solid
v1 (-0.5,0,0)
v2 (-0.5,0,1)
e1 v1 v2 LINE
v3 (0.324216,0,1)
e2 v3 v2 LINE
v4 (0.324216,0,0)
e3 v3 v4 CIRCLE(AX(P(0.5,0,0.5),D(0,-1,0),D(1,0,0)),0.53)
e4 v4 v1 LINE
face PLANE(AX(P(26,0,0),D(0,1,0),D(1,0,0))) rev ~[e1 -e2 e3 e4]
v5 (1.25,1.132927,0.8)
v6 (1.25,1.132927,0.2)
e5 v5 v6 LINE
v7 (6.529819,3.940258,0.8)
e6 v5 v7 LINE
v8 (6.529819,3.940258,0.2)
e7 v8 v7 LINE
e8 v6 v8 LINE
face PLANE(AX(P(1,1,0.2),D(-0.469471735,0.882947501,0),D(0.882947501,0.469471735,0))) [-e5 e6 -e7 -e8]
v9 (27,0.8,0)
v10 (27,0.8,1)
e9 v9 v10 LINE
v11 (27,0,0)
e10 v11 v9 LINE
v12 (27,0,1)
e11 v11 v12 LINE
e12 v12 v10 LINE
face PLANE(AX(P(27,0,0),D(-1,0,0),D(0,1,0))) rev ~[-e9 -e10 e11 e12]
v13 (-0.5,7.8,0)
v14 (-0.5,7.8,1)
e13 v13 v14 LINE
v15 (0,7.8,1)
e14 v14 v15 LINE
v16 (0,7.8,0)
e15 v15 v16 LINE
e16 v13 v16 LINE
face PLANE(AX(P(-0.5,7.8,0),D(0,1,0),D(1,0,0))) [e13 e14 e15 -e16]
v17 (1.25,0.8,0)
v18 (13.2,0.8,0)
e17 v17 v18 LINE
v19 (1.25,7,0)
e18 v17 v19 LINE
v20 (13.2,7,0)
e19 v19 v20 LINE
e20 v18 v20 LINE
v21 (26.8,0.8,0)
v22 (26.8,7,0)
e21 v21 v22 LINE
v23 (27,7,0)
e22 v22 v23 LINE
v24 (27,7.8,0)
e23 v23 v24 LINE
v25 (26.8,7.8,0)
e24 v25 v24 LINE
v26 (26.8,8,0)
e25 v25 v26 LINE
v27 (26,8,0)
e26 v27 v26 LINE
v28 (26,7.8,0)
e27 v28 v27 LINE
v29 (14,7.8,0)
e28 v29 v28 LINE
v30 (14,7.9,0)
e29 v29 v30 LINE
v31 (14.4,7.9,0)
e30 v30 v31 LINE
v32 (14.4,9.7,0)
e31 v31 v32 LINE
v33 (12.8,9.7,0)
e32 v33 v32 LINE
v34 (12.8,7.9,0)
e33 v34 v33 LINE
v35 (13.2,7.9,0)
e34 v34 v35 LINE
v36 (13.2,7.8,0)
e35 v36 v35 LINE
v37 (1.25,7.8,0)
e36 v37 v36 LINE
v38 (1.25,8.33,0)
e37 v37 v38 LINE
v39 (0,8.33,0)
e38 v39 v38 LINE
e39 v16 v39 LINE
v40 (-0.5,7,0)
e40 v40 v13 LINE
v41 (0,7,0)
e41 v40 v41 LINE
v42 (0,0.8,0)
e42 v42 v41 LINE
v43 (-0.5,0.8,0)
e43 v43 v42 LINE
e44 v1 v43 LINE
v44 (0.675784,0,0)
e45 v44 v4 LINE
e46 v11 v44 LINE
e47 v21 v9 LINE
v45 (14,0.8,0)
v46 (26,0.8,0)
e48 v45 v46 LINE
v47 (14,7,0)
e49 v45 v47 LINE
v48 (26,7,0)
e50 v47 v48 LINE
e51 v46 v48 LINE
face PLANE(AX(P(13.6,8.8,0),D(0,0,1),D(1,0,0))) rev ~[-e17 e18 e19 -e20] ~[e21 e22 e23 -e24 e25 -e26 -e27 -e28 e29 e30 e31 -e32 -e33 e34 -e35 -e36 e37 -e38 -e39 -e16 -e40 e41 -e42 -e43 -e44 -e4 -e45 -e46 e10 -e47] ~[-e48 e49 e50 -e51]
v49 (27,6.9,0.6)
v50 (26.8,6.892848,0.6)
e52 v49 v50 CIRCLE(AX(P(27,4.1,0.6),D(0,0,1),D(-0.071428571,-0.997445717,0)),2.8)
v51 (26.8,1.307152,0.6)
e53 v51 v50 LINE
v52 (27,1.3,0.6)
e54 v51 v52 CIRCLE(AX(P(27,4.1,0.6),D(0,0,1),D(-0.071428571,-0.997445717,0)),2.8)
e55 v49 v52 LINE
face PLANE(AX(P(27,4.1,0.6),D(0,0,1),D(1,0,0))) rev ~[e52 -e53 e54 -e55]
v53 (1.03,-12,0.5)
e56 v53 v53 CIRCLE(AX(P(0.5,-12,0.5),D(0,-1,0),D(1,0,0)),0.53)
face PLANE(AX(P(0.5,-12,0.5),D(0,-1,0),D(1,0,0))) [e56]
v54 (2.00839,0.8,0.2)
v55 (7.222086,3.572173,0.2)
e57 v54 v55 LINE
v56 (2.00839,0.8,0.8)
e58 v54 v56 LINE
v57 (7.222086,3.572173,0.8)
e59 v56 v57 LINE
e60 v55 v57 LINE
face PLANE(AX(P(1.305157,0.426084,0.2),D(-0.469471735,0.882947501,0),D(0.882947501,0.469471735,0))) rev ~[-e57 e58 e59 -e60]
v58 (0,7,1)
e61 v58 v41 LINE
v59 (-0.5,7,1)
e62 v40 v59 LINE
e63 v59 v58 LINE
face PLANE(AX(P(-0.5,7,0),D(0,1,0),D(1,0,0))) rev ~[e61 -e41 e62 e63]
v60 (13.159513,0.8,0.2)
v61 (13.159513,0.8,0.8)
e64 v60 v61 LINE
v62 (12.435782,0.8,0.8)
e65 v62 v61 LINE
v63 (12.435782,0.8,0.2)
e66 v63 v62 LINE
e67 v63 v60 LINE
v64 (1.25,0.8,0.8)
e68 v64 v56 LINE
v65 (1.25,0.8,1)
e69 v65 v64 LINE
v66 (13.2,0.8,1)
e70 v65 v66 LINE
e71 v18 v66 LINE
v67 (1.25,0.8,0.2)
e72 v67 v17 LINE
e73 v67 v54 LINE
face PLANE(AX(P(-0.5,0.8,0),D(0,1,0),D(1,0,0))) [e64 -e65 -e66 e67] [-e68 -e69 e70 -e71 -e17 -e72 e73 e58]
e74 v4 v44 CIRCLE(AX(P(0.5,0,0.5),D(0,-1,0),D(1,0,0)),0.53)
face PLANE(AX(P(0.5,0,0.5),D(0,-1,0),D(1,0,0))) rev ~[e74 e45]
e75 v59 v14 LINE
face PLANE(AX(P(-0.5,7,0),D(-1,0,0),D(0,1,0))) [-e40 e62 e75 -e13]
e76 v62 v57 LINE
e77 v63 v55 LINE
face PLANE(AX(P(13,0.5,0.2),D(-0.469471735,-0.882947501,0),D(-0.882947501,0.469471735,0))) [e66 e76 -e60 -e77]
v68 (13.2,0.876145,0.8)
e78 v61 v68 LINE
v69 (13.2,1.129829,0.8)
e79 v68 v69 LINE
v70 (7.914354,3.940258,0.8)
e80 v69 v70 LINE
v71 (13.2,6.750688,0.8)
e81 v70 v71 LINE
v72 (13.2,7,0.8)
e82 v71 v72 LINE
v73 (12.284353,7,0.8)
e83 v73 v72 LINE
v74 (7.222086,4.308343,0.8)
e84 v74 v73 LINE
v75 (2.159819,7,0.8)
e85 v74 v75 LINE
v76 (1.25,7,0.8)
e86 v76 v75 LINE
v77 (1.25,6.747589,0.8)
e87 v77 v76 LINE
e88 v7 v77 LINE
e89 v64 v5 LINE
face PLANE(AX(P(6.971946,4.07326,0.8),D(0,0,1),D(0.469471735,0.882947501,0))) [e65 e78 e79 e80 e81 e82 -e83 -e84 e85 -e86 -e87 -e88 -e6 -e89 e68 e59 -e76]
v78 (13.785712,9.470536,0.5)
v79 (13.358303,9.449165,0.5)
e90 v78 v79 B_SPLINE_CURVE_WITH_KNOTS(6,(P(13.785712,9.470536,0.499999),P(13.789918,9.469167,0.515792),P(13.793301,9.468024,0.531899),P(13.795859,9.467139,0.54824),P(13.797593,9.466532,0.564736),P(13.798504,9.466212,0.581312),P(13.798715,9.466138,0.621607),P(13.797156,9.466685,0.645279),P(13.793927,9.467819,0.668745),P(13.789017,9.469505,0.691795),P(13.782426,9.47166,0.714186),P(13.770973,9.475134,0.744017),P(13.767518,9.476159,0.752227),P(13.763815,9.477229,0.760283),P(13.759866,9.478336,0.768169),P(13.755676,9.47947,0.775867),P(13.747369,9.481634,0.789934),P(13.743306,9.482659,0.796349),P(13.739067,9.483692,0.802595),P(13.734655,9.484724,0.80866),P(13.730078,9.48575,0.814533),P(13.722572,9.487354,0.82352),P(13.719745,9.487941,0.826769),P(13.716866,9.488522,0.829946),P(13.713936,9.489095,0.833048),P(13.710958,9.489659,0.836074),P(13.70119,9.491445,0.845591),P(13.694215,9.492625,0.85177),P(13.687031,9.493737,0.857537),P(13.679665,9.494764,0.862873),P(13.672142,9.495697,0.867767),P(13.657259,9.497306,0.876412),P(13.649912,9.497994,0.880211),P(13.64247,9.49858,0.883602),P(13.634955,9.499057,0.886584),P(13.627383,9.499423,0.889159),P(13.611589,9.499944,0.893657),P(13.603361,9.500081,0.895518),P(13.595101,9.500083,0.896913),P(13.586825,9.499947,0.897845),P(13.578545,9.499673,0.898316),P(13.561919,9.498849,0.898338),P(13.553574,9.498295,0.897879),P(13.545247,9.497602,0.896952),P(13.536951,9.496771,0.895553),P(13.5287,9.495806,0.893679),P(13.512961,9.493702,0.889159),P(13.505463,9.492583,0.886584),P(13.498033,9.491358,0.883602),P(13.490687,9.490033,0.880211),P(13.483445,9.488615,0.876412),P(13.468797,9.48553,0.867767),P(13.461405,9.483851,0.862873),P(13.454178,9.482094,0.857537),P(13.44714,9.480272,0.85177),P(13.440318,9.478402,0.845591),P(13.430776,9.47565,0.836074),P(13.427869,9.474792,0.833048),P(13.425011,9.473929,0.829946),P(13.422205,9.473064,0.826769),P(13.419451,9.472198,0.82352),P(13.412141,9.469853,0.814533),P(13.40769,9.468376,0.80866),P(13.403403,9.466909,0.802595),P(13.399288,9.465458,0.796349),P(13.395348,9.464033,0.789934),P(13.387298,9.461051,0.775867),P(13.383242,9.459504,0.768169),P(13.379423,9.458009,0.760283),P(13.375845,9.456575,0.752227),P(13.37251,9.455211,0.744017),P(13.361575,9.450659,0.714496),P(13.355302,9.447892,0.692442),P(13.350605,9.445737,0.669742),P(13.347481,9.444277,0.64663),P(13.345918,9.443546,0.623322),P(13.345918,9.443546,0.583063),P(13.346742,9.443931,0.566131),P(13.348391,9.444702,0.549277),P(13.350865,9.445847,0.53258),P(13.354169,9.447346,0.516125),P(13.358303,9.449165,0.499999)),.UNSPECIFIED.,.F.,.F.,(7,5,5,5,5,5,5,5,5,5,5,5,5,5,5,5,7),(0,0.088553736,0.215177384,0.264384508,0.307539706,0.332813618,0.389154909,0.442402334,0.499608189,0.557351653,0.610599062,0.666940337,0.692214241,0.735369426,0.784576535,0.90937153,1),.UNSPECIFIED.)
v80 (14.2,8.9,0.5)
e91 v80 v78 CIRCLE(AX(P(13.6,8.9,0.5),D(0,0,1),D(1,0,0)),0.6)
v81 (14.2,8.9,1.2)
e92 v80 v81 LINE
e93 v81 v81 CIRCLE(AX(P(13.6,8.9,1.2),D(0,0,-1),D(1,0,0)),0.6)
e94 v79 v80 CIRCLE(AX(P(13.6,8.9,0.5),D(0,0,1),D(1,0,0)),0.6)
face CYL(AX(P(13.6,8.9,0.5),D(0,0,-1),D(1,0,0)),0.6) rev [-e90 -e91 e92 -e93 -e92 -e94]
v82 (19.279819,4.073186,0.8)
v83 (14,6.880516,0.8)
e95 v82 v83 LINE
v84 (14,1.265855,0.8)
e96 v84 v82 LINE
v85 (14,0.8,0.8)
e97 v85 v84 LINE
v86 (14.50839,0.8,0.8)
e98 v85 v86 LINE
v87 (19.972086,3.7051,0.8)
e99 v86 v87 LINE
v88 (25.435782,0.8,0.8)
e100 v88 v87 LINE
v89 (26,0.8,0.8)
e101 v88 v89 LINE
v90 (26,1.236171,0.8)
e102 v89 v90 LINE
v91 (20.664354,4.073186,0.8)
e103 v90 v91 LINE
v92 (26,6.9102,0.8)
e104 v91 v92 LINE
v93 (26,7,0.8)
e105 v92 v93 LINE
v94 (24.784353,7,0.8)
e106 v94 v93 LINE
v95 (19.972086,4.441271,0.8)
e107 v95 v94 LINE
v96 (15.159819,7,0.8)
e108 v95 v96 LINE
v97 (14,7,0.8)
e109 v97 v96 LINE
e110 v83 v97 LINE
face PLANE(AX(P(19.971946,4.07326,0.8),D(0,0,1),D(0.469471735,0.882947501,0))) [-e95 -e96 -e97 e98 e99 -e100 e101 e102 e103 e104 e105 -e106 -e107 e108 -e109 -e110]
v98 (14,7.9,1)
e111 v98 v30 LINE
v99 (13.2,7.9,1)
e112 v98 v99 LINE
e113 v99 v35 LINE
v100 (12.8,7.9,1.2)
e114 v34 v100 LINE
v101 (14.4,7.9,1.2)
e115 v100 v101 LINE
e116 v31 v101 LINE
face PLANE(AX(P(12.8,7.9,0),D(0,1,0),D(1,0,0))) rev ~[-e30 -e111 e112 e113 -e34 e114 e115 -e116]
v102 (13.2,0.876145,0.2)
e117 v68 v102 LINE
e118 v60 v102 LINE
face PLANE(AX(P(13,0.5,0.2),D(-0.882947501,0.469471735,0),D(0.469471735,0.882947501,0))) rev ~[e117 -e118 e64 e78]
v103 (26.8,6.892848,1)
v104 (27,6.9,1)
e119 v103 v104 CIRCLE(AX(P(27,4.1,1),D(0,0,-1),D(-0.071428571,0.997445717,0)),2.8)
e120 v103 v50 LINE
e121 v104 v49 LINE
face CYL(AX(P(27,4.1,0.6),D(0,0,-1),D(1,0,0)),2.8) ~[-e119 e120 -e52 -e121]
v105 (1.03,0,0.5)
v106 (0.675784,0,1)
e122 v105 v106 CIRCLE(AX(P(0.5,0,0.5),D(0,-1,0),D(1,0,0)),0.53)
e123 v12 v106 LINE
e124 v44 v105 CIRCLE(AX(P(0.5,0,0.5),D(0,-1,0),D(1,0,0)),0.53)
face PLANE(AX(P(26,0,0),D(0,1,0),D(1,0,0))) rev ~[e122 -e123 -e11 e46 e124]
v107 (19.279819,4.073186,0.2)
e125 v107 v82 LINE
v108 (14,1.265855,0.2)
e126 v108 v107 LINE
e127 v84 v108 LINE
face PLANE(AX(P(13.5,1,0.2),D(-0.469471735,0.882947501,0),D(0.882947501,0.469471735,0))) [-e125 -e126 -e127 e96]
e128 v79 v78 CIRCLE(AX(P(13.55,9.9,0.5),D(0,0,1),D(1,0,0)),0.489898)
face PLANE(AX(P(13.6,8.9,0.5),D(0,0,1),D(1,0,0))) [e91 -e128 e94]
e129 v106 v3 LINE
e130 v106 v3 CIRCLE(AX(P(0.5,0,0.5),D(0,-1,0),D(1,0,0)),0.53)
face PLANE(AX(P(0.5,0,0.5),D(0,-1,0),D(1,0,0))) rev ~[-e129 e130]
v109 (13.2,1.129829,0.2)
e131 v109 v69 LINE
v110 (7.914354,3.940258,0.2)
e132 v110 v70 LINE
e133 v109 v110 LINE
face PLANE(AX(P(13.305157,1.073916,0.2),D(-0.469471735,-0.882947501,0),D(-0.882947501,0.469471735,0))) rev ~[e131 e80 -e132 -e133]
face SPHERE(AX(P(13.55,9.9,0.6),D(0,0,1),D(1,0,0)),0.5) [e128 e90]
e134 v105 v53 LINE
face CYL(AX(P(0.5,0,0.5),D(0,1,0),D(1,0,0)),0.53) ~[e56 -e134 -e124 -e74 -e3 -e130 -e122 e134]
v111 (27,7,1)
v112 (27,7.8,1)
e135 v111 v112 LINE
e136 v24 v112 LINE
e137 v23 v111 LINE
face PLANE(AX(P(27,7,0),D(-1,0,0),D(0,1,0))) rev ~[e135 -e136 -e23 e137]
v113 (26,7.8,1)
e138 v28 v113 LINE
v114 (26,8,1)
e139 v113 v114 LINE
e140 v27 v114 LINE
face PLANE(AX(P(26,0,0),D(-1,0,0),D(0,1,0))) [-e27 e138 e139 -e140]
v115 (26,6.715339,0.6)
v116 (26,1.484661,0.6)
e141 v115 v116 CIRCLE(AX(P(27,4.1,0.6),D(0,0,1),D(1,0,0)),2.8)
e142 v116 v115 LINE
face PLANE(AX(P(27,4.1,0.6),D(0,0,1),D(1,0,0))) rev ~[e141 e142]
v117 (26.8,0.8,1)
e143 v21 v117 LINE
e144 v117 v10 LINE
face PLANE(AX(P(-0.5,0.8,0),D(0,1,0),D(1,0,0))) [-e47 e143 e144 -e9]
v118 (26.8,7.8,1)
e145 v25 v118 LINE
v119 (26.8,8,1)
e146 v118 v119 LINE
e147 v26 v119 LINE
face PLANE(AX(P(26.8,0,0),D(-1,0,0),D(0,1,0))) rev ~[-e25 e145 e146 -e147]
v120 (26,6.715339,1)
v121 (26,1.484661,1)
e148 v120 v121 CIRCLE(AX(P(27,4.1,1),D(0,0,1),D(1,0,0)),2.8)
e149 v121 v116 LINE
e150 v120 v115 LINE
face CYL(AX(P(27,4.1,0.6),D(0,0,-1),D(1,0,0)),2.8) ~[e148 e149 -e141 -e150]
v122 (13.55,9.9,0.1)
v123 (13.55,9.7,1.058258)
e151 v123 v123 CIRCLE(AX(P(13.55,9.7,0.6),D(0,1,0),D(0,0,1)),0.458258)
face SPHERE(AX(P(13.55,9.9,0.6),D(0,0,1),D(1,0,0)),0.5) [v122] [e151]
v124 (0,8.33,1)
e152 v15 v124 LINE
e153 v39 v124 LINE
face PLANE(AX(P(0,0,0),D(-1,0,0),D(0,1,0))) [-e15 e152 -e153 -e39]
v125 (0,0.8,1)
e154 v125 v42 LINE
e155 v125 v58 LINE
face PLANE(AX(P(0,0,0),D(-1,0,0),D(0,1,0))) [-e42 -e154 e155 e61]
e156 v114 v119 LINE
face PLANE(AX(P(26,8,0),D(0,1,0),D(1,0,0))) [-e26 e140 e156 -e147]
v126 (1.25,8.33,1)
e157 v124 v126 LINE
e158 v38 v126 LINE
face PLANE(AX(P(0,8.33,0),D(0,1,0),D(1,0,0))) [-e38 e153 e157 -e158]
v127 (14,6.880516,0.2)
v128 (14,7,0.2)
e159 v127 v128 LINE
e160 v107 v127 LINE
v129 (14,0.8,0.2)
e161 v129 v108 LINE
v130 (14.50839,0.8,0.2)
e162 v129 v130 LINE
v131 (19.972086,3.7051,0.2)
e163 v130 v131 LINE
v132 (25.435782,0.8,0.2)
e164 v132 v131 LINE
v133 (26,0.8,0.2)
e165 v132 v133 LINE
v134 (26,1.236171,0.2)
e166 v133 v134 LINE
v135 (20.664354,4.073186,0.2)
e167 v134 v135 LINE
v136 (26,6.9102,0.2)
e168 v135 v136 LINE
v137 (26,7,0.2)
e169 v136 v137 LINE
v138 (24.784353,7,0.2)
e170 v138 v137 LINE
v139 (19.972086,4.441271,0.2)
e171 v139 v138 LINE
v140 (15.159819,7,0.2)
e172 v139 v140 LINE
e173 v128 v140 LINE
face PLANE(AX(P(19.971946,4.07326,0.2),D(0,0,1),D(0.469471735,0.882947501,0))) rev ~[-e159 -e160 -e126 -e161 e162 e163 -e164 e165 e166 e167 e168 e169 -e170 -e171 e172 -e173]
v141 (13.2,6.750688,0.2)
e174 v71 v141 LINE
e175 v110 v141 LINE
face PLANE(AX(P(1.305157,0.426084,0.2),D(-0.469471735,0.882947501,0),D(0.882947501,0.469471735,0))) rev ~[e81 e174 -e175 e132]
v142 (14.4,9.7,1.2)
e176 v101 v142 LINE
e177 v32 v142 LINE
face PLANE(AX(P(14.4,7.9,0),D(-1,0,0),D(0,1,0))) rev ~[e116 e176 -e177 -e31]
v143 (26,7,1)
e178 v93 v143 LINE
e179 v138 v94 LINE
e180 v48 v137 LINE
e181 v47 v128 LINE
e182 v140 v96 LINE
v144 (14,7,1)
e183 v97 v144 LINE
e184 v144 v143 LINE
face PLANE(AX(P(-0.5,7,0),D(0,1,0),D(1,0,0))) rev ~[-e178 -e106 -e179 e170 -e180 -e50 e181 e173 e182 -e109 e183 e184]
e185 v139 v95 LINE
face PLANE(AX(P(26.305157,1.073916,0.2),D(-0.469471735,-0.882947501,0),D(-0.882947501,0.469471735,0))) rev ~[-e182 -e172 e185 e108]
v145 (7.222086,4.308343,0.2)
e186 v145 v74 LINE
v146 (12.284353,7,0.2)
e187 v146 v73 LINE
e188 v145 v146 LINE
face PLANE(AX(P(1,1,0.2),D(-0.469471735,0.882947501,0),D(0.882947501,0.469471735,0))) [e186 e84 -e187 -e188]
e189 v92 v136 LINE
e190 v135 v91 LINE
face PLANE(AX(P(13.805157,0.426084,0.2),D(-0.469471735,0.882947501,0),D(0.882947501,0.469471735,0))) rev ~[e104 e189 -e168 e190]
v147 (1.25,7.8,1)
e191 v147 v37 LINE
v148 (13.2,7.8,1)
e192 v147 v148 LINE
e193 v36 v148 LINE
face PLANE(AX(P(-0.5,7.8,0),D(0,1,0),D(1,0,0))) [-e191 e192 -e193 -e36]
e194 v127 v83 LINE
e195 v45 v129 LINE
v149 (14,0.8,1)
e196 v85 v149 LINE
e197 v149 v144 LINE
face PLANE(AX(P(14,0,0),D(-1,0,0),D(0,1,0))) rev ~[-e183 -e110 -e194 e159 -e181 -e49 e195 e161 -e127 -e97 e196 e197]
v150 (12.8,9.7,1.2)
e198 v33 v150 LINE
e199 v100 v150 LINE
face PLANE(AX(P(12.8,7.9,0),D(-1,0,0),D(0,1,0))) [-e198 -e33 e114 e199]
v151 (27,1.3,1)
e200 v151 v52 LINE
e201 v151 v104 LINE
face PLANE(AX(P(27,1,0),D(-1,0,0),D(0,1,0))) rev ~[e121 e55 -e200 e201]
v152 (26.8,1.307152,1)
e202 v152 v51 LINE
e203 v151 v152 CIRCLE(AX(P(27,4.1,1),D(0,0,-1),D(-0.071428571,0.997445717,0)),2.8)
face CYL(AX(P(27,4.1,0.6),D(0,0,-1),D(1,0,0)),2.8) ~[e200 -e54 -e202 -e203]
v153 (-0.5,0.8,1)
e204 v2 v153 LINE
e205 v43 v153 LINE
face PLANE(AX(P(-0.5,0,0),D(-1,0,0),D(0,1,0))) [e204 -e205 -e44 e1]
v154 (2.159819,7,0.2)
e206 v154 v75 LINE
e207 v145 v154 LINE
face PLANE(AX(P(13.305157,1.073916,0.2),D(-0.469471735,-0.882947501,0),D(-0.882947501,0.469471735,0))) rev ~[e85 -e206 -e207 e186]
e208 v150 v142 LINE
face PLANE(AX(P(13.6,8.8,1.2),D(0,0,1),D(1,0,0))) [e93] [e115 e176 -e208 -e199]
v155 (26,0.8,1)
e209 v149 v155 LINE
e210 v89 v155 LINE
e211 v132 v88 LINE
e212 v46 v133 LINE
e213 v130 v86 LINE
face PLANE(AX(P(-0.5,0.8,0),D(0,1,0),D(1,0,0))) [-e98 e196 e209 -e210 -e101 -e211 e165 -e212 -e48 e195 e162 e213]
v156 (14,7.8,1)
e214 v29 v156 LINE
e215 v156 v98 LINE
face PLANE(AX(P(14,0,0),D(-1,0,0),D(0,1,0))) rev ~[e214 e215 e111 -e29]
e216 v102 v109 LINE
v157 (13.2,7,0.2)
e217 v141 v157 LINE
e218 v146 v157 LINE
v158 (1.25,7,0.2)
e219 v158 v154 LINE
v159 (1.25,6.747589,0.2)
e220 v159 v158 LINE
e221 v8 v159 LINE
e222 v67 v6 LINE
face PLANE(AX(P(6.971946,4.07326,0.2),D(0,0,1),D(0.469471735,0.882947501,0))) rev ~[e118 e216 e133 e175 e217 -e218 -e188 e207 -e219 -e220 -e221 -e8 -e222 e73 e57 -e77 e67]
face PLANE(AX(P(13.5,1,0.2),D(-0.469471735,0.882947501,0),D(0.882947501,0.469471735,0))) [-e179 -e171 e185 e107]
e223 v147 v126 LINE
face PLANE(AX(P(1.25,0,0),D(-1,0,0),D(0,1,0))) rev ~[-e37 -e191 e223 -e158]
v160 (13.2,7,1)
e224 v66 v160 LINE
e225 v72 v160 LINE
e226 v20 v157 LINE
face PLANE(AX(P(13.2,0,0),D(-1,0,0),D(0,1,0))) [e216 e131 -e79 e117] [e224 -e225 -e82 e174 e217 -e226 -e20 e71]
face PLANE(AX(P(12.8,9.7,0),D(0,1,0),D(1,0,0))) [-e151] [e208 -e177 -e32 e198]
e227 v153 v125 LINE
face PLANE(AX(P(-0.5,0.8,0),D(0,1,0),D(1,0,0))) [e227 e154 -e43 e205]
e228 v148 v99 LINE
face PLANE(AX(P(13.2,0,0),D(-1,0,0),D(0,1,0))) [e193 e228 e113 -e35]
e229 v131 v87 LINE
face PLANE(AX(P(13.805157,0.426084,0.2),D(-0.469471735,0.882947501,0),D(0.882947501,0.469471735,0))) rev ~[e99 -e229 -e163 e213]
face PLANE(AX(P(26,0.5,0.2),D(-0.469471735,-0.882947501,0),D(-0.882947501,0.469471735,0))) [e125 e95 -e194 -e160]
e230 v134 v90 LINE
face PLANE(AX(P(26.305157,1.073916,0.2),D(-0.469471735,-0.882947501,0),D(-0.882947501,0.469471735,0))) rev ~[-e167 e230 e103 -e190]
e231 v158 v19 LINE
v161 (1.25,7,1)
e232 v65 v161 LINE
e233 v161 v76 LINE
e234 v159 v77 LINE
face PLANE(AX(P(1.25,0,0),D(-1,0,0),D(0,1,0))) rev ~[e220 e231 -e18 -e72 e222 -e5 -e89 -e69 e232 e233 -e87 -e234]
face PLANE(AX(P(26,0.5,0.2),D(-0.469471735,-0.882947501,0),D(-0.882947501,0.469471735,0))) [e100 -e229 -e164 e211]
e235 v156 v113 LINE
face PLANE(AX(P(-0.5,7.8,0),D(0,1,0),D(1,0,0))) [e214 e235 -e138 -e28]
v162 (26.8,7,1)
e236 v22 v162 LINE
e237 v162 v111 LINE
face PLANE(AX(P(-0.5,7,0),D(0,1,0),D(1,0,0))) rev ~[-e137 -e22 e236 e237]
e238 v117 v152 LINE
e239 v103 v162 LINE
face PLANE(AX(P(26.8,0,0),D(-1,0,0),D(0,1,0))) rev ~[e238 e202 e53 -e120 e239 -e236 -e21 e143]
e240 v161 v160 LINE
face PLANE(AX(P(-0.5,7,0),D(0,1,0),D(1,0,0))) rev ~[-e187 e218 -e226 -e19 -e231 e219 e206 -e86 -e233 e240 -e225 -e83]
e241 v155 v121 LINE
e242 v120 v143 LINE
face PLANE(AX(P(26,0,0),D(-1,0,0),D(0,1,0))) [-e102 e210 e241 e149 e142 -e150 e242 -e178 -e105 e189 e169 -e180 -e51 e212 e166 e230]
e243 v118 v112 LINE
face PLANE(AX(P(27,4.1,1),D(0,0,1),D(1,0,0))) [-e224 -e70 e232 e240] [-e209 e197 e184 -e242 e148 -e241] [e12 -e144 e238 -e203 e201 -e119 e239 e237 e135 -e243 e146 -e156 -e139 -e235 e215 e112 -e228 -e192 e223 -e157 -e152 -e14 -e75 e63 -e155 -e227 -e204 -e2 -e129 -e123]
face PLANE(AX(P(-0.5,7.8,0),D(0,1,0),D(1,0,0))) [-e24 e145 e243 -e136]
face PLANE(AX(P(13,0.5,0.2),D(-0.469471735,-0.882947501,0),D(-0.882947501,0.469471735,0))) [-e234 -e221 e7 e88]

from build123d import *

# Parameters (mm, degrees)
SKETCH_W               = 1.25
SKETCH_H               = 8.33
PAD_DEPTH              = 1
BOX_W                  = 27.5
BOX_H                  = 0.8
BOX_DEPTH              = 1
LINEARPATTERN_COUNT    = 2
LINEARPATTERN_PITCH    = 7
BOX001_W               = 0.8
BOX001_H               = 8
BOX001_DEPTH           = 1
BOX002_W               = 0.8
BOX002_H               = 8
BOX002_DEPTH           = 1
BOX003_W               = 0.65
BOX003_H               = 14
BOX003_DEPTH           = 0.6
LINEARPATTERN001_COUNT = 2
LINEARPATTERN001_PITCH = 12.5
BOX004_W               = 0.65
BOX004_H               = 14
BOX004_DEPTH           = 0.6
LINEARPATTERN002_COUNT = 2
LINEARPATTERN002_PITCH = 13
CYLINDER_R             = 0.53
CYLINDER_DEPTH         = 12
CYLINDER001_R          = 2.8
CYLINDER001_DEPTH      = 0.4
BOX005_W               = 1.6
BOX005_H               = 1.8
BOX005_DEPTH           = 1.2
CYLINDER002_R          = 0.6
CYLINDER002_DEPTH      = 2
BOX006_W               = 4
BOX006_H               = 6
BOX006_DEPTH           = 1


with BuildPart() as part:
    # Sketch → Pad (new body)
    with BuildSketch(Plane.XY):
        with Locations((0.625, 4.165)):
            Rectangle(SKETCH_W, SKETCH_H)
    extrude(amount=PAD_DEPTH)

    # Box → Box (join)
    with BuildSketch(Plane(origin=(-0.5, 0, 0), x_dir=(1, 0, 0), z_dir=(0, 0, 1))):
        with Locations((13.75, 0.4)):
            Rectangle(BOX_W, BOX_H)
    box = extrude(amount=BOX_DEPTH)

    # LinearPattern: Box ×2
    with Locations(*[(0, i * LINEARPATTERN_PITCH, 0) for i in range(1, LINEARPATTERN_COUNT)]):
        add(box)

    # Box001 → Box001 (join)
    with BuildSketch(Plane(origin=(13.2, 0, 0), x_dir=(1, 0, 0), z_dir=(0, 0, 1))):
        with Locations((0.4, 4)):
            Rectangle(BOX001_W, BOX001_H)
    extrude(amount=BOX001_DEPTH)

    # Box002 → Box002 (join)
    with BuildSketch(Plane(origin=(26, 0, 0), x_dir=(1, 0, 0), z_dir=(0, 0, 1))):
        with Locations((0.4, 4)):
            Rectangle(BOX002_W, BOX002_H)
    extrude(amount=BOX002_DEPTH)

    # Box003 → Box003 (join)
    with BuildSketch(Plane(origin=(1, 1, 0.2), x_dir=(0.469472, -0.882948, 0), z_dir=(0, 0, 1))):
        with Locations((0.325, 7)):
            Rectangle(BOX003_W, BOX003_H)
    box003 = extrude(amount=BOX003_DEPTH)

    # LinearPattern001: Box003 ×2
    with Locations(*[(i * LINEARPATTERN001_PITCH, 0, 0) for i in range(1, LINEARPATTERN001_COUNT)]):
        add(box003)

    # Box004 → Box004 (join)
    with BuildSketch(Plane(origin=(13, 0.5, 0.2), x_dir=(0.469472, 0.882948, 0), z_dir=(0, 0, 1))):
        with Locations((0.325, 7)):
            Rectangle(BOX004_W, BOX004_H)
    box004 = extrude(amount=BOX004_DEPTH)

    # LinearPattern002: Box004 ×2
    with Locations(*[(i * LINEARPATTERN002_PITCH, 0, 0) for i in range(1, LINEARPATTERN002_COUNT)]):
        add(box004)

    # Cylinder → Cylinder (join)
    with BuildSketch(Plane(origin=(0.5, 0, 0.5), x_dir=(1, 0, 0), z_dir=(0, -1, 0))):
        Circle(CYLINDER_R)
    extrude(amount=CYLINDER_DEPTH)

    # Cylinder001 → Cylinder001 (join)
    with BuildSketch(Plane(origin=(27, 4.1, 0.6), x_dir=(1, 0, 0), z_dir=(0, 0, 1))):
        Circle(CYLINDER001_R)
    extrude(amount=CYLINDER001_DEPTH)

    # Box005 → Box005 (join)
    with BuildSketch(Plane(origin=(12.8, 7.9, 0), x_dir=(1, 0, 0), z_dir=(0, 0, 1))):
        with Locations((0.8, 0.9)):
            Rectangle(BOX005_W, BOX005_H)
    extrude(amount=BOX005_DEPTH)

    # Cylinder002 → Cylinder002 (cut)
    with BuildSketch(Plane(origin=(13.6, 8.9, 0.5), x_dir=(1, 0, 0), z_dir=(0, 0, 1))):
        Circle(CYLINDER002_R)
    extrude(amount=CYLINDER002_DEPTH, mode=Mode.SUBTRACT)

    # Box006 → Box006 (cut)
    with BuildSketch(Plane(origin=(27, 1, 0), x_dir=(1, 0, 0), z_dir=(0, 0, 1))):
        with Locations((2, 3)):
            Rectangle(BOX006_W, BOX006_H)
    extrude(amount=BOX006_DEPTH, mode=Mode.SUBTRACT)

    # Sphere → Sphere (revolve)
    with BuildSketch(Plane(origin=(13.55, 9.9, 0.6), x_dir=(1, 0, 0), z_dir=(0, -1, 0))):
        with BuildLine():
            ThreePointArc((0, -0.5), (0.5, 0), (0, 0.5))
            Line((0, 0.5), (0, -0.5))
        make_face()
    revolve(axis=Axis((13.55, 9.9, 0.6), (0, 0, 1)))


solid = part.part
